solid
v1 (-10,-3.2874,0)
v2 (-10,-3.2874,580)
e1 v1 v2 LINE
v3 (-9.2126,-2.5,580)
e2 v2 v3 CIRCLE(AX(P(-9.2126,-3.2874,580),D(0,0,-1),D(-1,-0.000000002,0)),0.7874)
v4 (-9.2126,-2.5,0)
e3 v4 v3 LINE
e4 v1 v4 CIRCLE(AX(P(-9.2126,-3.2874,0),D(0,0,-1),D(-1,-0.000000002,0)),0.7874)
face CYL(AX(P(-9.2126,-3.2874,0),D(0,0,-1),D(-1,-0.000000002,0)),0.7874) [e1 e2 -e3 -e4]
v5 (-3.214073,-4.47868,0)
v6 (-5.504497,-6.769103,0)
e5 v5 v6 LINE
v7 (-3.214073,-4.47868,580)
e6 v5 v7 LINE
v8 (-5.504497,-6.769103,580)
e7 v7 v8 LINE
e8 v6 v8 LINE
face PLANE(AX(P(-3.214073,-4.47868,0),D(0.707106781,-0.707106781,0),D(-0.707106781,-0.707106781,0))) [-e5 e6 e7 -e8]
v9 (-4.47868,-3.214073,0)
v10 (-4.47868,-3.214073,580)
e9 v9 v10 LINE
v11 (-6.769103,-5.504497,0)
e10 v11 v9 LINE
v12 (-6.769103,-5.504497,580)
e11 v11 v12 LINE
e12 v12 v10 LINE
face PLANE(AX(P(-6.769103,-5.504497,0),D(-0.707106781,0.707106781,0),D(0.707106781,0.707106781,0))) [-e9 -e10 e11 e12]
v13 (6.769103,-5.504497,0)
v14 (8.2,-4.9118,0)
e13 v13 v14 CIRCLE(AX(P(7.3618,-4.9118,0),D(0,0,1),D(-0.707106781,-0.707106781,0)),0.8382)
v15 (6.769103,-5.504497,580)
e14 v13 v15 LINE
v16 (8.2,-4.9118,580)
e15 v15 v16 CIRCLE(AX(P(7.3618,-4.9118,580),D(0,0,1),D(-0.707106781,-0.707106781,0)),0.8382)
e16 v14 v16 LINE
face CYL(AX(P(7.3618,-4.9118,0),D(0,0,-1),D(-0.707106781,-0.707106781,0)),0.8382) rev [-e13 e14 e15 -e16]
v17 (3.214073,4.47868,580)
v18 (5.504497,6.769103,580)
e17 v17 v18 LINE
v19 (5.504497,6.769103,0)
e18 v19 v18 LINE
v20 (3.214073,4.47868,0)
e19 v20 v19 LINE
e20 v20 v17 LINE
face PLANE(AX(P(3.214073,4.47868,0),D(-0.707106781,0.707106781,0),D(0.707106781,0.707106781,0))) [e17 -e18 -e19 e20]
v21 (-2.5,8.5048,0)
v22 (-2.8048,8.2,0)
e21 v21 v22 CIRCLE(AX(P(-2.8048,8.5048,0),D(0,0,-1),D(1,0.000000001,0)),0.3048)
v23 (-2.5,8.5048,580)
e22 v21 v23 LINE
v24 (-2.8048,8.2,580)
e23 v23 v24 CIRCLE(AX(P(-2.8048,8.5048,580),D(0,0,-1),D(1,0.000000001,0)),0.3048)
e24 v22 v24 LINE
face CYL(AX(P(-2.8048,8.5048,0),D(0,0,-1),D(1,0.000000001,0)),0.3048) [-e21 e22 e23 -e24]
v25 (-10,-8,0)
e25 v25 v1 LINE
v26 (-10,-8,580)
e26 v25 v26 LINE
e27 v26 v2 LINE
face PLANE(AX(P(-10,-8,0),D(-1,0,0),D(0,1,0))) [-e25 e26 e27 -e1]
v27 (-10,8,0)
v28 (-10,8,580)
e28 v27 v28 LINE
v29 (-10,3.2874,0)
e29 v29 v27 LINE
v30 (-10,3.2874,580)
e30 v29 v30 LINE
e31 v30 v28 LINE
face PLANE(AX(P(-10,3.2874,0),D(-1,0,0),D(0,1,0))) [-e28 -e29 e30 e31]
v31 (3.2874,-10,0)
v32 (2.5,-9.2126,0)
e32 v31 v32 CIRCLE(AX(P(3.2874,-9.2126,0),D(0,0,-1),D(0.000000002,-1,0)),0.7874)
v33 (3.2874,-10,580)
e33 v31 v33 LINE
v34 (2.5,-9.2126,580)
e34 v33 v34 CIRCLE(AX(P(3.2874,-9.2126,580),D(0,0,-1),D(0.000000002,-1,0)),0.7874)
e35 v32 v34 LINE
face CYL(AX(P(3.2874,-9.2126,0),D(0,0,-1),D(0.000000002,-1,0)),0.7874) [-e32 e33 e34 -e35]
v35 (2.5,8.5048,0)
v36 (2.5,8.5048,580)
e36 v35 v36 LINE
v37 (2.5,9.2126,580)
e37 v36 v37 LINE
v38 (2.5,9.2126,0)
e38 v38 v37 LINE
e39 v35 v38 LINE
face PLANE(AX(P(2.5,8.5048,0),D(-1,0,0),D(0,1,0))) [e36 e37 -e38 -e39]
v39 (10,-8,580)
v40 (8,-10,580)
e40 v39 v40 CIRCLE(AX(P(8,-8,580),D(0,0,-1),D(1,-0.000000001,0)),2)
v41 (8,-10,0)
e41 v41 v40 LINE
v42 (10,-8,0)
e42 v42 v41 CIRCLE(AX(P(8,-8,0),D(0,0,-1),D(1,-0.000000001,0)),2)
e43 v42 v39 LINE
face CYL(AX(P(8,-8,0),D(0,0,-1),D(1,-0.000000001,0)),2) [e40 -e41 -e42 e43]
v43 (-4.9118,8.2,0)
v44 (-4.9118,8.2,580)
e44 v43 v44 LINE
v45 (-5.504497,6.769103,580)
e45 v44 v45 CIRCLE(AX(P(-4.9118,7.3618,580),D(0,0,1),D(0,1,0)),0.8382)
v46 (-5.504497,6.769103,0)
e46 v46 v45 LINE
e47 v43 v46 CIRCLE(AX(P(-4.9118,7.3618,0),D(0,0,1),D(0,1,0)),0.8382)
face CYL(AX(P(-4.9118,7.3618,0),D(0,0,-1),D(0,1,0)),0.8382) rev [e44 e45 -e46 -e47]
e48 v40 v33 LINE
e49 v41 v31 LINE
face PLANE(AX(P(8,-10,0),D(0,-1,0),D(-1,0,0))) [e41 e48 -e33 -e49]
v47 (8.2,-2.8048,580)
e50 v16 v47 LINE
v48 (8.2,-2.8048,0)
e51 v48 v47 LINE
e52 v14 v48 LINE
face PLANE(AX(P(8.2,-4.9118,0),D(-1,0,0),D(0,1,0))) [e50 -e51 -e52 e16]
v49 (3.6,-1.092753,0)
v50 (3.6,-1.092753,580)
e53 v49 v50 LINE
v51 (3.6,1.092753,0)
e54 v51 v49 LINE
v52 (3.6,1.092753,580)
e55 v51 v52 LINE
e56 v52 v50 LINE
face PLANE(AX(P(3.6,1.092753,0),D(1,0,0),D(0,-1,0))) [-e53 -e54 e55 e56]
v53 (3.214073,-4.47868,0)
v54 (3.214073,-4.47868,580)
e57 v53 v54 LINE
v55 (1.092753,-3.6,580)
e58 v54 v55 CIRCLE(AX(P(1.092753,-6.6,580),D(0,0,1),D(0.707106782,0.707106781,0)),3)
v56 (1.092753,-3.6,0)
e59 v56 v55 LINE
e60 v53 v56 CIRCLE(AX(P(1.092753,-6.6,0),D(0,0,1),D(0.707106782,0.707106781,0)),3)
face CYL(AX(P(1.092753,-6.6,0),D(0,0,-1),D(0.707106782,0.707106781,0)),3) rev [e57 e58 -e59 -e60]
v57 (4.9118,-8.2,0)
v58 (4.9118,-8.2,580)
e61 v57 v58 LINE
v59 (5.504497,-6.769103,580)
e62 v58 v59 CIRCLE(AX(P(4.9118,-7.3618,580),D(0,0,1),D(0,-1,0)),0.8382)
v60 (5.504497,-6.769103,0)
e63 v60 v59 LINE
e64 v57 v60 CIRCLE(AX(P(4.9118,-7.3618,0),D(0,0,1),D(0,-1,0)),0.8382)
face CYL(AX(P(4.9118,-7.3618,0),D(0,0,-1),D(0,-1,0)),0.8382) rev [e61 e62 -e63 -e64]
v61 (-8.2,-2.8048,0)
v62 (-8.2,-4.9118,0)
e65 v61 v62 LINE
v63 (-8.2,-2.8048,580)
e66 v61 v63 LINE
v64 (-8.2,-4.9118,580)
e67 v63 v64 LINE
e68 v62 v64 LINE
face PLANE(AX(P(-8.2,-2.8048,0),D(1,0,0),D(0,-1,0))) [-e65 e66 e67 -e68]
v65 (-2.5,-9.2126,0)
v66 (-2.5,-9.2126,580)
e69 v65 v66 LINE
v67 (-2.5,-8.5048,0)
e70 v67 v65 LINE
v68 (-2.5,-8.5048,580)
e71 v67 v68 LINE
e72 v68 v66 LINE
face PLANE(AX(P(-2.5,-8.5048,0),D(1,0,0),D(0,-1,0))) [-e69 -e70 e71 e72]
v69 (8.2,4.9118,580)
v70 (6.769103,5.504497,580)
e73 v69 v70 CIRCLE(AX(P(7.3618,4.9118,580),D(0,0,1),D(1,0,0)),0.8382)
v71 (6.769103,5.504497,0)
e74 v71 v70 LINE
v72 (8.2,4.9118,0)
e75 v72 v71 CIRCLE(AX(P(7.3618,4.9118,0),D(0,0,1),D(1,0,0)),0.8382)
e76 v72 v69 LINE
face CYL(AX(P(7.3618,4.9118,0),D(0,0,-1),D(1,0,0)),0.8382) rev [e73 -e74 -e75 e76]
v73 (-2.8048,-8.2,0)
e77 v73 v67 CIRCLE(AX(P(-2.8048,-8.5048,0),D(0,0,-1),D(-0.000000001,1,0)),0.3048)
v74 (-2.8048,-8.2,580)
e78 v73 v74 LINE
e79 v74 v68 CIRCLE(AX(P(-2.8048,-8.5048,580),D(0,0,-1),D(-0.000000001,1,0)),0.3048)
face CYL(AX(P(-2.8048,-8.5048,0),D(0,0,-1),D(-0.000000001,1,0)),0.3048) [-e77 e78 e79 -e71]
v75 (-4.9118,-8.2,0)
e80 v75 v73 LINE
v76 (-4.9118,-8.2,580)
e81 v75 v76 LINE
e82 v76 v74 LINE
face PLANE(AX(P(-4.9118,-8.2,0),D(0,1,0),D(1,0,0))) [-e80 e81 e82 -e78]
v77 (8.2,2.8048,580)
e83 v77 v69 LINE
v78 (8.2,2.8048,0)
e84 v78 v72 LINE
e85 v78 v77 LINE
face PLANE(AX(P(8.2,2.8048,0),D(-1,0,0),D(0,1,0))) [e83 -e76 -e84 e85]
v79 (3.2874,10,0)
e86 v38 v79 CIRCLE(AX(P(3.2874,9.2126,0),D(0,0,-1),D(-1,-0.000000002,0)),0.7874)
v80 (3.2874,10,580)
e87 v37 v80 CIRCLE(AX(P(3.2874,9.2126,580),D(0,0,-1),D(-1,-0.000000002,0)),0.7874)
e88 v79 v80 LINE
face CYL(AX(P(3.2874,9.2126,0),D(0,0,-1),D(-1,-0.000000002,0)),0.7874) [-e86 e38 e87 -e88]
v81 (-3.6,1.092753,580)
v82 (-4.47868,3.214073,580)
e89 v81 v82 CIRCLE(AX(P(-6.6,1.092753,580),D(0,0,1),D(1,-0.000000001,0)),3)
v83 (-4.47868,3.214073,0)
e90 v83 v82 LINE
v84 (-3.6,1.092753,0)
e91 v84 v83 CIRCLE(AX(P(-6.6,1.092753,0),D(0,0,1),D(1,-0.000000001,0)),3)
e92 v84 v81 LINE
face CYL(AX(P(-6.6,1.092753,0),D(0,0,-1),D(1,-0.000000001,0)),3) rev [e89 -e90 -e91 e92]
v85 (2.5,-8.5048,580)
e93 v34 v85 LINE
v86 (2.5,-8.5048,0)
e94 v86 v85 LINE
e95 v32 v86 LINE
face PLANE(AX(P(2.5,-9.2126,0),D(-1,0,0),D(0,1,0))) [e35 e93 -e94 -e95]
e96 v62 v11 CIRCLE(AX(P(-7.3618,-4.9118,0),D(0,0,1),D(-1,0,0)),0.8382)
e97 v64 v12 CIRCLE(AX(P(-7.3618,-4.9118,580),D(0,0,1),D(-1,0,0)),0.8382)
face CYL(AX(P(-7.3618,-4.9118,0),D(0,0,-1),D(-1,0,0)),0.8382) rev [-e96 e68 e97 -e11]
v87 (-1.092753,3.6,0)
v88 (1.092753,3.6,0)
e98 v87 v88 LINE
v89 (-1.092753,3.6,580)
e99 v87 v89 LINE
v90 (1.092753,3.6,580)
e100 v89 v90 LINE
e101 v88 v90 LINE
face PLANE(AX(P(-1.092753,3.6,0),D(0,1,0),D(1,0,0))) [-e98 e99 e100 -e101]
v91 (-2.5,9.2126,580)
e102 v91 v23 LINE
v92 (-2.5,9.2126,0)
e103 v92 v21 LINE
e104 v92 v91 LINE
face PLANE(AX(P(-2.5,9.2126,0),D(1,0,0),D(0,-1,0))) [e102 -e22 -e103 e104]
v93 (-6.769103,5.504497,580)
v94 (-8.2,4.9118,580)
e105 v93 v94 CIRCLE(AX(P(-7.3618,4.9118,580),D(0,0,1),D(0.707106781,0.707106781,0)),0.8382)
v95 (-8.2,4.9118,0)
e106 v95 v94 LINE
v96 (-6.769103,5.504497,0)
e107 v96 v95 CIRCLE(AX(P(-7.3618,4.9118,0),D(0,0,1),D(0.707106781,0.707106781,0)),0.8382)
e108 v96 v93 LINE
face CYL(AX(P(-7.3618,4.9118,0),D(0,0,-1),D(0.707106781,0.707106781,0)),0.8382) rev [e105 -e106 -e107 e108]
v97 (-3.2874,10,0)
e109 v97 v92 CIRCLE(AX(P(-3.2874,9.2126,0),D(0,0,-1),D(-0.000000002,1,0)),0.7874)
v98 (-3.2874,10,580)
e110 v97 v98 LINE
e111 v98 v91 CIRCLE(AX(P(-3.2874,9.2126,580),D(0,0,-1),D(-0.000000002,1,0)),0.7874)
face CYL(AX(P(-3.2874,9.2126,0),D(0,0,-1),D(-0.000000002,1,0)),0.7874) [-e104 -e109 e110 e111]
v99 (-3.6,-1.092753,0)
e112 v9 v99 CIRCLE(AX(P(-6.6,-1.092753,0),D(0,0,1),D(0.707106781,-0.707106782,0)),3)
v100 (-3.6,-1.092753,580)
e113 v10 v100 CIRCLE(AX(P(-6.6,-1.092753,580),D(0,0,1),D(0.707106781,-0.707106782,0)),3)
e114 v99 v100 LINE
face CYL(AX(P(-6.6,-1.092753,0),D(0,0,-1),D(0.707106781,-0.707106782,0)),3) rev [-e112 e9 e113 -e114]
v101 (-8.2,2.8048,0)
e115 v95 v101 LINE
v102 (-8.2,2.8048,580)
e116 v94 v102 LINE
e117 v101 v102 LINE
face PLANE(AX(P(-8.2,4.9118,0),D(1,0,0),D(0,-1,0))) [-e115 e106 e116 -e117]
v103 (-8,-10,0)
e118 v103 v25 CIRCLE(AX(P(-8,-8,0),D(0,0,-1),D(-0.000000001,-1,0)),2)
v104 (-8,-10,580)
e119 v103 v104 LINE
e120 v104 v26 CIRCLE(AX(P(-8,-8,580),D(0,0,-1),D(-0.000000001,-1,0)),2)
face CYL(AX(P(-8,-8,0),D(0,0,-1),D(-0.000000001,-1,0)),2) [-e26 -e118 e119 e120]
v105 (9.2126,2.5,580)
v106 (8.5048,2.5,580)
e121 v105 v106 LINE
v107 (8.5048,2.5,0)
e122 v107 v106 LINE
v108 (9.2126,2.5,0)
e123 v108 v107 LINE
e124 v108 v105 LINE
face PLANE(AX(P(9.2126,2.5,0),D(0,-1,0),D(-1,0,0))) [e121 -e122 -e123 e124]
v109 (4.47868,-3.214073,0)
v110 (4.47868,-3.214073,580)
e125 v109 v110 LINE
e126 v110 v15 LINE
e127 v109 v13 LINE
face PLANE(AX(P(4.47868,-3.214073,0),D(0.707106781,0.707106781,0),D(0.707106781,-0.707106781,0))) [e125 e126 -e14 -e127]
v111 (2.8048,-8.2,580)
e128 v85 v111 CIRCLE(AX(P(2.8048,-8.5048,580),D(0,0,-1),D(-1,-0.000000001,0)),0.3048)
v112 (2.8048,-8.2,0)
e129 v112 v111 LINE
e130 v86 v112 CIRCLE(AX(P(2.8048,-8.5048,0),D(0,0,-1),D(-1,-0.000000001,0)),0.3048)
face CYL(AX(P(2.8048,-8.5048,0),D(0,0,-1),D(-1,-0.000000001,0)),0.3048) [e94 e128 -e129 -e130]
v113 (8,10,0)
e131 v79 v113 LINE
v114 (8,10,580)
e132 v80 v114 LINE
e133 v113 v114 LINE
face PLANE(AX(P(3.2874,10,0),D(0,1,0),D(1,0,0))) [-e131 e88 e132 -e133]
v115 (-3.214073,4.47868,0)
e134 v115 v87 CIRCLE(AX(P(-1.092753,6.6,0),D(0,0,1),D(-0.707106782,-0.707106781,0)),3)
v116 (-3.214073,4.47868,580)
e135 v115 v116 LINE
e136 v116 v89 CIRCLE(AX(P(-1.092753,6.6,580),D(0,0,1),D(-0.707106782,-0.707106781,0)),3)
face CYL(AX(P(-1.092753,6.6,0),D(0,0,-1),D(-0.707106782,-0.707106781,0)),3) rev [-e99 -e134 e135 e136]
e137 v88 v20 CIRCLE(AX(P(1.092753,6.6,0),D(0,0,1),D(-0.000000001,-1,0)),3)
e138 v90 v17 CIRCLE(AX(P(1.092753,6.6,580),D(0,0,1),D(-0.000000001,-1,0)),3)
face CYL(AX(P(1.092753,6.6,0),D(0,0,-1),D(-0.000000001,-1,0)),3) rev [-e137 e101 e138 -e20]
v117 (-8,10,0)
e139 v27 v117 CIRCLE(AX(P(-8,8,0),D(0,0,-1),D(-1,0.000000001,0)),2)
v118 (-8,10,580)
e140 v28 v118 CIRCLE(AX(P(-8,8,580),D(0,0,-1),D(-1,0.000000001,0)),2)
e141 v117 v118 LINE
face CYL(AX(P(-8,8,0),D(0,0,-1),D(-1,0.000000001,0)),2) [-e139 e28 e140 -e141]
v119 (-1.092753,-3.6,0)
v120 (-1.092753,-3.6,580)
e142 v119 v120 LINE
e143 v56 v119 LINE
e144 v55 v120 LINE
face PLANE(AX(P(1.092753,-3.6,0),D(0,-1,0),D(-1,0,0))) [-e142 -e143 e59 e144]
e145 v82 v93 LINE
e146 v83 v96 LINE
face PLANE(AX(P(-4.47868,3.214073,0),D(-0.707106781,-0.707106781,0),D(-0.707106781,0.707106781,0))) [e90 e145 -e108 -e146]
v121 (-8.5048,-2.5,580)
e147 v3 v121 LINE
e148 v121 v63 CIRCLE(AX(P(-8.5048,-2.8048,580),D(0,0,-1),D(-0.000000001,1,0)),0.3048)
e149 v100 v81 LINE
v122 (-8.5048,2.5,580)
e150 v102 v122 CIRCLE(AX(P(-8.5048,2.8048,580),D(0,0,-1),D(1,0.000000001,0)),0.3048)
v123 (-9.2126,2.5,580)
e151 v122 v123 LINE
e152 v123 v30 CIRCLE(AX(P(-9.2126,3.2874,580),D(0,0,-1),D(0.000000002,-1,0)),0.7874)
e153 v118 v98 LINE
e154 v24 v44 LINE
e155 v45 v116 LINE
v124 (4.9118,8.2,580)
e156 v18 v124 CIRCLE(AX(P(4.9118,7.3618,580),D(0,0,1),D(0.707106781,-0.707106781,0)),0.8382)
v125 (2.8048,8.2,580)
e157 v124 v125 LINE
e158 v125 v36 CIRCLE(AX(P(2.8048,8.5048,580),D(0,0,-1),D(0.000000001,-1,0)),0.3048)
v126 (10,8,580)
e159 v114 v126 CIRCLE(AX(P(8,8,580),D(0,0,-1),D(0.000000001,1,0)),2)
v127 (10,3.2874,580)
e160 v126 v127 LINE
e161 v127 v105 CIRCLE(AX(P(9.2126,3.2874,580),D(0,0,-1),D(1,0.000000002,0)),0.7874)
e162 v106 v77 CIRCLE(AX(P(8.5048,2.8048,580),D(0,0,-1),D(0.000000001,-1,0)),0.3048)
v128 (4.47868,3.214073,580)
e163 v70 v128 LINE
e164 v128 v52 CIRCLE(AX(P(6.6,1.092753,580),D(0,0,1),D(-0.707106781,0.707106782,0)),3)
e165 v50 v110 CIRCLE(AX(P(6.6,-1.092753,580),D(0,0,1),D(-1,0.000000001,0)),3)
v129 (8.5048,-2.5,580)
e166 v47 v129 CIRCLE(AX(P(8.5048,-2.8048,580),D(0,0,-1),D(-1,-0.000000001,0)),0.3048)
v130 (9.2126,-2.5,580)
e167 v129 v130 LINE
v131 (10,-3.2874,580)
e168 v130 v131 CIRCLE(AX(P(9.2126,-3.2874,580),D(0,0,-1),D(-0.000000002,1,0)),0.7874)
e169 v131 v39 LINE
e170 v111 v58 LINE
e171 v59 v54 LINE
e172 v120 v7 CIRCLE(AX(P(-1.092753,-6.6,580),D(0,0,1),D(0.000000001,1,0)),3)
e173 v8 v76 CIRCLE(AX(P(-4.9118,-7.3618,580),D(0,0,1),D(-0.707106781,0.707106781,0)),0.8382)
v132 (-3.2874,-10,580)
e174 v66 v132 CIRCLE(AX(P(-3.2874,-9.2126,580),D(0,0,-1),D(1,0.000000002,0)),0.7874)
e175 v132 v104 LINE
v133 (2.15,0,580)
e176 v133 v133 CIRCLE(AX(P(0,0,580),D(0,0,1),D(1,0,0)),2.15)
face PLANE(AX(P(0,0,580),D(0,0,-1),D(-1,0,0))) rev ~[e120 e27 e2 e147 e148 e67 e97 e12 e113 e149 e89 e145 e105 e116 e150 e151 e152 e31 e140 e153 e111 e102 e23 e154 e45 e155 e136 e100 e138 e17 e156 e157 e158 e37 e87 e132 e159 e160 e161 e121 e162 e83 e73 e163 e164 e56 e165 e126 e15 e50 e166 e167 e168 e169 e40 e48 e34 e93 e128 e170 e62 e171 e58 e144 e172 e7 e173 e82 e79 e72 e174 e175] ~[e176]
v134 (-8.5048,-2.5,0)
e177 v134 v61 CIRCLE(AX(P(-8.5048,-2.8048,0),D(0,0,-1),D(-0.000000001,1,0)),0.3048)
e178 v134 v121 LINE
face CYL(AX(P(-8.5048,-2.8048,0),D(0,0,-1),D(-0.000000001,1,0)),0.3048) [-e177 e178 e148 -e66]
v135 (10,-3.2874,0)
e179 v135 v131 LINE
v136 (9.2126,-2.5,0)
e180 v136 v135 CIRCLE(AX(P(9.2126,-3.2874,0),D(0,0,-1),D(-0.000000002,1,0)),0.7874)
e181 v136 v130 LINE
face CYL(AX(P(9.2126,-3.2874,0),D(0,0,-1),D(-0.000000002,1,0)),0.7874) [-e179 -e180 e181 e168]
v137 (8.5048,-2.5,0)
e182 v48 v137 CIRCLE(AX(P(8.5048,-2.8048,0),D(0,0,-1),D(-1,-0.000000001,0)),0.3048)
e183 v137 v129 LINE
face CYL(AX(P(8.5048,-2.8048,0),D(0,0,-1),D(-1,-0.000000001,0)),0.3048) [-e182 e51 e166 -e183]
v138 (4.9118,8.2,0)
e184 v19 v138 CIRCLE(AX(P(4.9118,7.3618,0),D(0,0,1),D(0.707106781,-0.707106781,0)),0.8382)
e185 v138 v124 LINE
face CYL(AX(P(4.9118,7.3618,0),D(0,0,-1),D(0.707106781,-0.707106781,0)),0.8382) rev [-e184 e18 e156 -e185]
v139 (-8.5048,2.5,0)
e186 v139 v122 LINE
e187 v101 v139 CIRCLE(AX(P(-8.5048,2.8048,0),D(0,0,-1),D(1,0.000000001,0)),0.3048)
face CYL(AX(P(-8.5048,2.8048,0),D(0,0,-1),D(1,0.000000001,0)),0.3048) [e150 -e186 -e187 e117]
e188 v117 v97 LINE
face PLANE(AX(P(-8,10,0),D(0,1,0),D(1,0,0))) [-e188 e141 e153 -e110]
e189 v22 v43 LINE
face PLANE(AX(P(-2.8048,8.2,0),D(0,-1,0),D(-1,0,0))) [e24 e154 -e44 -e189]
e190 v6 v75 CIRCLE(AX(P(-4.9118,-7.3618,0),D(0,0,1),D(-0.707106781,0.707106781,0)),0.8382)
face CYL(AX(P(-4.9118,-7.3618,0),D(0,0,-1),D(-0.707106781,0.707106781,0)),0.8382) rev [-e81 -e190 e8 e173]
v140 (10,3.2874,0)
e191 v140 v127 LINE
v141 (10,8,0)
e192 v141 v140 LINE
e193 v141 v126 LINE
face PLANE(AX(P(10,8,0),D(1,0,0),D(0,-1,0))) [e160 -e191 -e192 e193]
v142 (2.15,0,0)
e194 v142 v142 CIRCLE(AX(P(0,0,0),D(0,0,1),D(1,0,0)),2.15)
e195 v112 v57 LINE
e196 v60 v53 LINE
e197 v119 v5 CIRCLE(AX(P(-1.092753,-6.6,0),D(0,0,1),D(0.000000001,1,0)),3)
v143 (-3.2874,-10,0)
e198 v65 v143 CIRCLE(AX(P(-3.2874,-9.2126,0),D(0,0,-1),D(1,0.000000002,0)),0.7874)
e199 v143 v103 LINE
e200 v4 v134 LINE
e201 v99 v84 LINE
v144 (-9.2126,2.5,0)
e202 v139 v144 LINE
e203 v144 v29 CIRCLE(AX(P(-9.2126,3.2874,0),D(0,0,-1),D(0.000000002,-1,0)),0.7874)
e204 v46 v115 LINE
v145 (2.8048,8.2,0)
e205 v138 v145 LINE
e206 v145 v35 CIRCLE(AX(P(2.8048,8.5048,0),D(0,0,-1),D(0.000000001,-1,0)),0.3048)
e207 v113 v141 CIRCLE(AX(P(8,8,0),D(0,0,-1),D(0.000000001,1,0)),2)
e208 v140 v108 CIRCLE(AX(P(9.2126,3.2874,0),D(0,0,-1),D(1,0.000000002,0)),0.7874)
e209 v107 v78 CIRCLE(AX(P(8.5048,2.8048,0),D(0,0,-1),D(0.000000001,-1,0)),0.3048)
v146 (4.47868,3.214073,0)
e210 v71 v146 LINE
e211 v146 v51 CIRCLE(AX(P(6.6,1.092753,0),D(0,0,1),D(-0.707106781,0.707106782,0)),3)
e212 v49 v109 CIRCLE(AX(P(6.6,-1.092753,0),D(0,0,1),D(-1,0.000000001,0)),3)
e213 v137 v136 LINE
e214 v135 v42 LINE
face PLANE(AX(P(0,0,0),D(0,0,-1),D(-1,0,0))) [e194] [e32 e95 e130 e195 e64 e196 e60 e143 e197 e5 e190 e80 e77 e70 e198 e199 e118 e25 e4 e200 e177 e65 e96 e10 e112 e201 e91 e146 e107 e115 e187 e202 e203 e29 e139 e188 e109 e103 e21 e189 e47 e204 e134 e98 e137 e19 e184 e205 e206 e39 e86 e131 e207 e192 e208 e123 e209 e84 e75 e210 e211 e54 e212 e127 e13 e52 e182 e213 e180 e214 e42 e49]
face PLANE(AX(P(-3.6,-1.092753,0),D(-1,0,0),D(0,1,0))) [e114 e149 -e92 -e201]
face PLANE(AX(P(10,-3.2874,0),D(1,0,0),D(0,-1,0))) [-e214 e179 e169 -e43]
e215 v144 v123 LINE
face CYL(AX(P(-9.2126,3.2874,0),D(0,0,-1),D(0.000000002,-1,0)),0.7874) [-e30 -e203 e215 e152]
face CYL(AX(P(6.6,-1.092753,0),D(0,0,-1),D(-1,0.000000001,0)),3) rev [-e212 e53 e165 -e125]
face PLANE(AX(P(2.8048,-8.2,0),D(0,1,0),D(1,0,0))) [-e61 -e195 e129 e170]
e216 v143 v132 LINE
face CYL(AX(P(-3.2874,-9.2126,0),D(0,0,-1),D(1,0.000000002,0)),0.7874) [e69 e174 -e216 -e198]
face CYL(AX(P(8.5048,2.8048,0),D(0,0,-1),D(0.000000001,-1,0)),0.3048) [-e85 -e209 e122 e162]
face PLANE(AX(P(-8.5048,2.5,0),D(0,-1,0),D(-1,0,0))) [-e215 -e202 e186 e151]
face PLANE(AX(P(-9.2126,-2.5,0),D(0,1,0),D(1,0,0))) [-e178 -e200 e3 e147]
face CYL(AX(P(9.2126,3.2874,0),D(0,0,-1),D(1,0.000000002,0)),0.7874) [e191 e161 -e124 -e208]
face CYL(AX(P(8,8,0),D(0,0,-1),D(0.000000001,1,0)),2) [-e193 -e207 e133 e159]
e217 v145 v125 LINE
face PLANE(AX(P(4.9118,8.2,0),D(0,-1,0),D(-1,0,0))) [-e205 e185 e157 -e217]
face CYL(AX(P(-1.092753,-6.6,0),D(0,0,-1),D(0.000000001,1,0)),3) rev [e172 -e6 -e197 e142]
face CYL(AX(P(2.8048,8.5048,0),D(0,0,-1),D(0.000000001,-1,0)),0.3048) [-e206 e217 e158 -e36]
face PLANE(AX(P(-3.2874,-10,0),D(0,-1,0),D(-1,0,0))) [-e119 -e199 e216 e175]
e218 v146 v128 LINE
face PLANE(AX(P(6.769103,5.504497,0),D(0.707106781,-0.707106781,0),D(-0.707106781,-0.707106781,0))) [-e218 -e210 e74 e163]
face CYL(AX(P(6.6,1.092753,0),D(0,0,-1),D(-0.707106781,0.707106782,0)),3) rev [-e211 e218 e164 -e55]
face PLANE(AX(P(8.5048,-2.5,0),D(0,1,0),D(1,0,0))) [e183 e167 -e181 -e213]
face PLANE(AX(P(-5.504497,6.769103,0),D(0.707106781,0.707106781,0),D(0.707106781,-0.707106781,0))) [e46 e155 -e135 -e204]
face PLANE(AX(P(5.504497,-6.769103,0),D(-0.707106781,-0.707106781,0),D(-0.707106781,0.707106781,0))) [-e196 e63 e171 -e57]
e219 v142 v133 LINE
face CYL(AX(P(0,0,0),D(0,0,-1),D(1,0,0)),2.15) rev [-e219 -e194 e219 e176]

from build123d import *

# Parameters (mm, degrees)
SKETCH3_R           = 2.15
BOSS_EXTRUDE1_DEPTH = 580


with BuildPart() as part:
    # Sketch3 → Boss-Extrude1 (new body)
    with BuildSketch(Plane.XY):
        with BuildLine():
            Line((3.2874, 10), (8, 10))
            ThreePointArc((8, 10), (9.414213562, 9.414213562), (10, 8))
            Line((10, 8), (10, 3.2874))
            ThreePointArc((10, 3.2874), (9.76937588, 2.73062412), (9.2126, 2.5))
            Line((9.2126, 2.5), (8.5048, 2.5))
            ThreePointArc((8.5048, 2.5), (8.289273853, 2.589273853), (8.2, 2.8048))
            Line((8.2, 2.8048), (8.2, 4.9118))
            ThreePointArc((8.2, 4.9118), (7.682565253, 5.686195824), (6.769103096, 5.504496904))
            Line((6.769103096, 5.504496904), (4.478679656, 3.214073464))
            ThreePointArc((4.478679656, 3.214073464), (3.828361402, 2.240803418), (3.6, 1.092753121))
            Line((3.6, 1.092753121), (3.6, -1.092753121))
            ThreePointArc((3.6, -1.092753121), (3.828361402, -2.240803418), (4.478679656, -3.214073464))
            Line((4.478679656, -3.214073464), (6.769103096, -5.504496904))
            ThreePointArc((6.769103096, -5.504496904), (7.682565253, -5.686195824), (8.2, -4.9118))
            Line((8.2, -4.9118), (8.2, -2.8048))
            ThreePointArc((8.2, -2.8048), (8.289273853, -2.589273853), (8.5048, -2.5))
            Line((8.5048, -2.5), (9.2126, -2.5))
            ThreePointArc((9.2126, -2.5), (9.76937588, -2.73062412), (10, -3.2874))
            Line((10, -3.2874), (10, -8))
            ThreePointArc((10, -8), (9.414213562, -9.414213562), (8, -10))
            Line((8, -10), (3.2874, -10))
            ThreePointArc((3.2874, -10), (2.73062412, -9.76937588), (2.5, -9.2126))
            Line((2.5, -9.2126), (2.5, -8.5048))
            ThreePointArc((2.5, -8.5048), (2.589273853, -8.289273853), (2.8048, -8.2))
            Line((2.8048, -8.2), (4.9118, -8.2))
            ThreePointArc((4.9118, -8.2), (5.686195824, -7.682565253), (5.504496904, -6.769103096))
            Line((5.504496904, -6.769103096), (3.214073464, -4.478679656))
            ThreePointArc((3.214073464, -4.478679656), (2.240803418, -3.828361402), (1.092753121, -3.6))
            Line((1.092753121, -3.6), (-1.092753121, -3.6))
            ThreePointArc((-1.092753121, -3.6), (-2.240803418, -3.828361402), (-3.214073464, -4.478679656))
            Line((-3.214073464, -4.478679656), (-5.504496904, -6.769103096))
            ThreePointArc((-5.504496904, -6.769103096), (-5.686195824, -7.682565253), (-4.9118, -8.2))
            Line((-4.9118, -8.2), (-2.8048, -8.2))
            ThreePointArc((-2.8048, -8.2), (-2.589273853, -8.289273853), (-2.5, -8.5048))
            Line((-2.5, -8.5048), (-2.5, -9.2126))
            ThreePointArc((-2.5, -9.2126), (-2.73062412, -9.76937588), (-3.2874, -10))
            Line((-3.2874, -10), (-8, -10))
            ThreePointArc((-8, -10), (-9.414213562, -9.414213562), (-10, -8))
            Line((-10, -8), (-10, -3.2874))
            ThreePointArc((-10, -3.2874), (-9.76937588, -2.73062412), (-9.2126, -2.5))
            Line((-9.2126, -2.5), (-8.5048, -2.5))
            ThreePointArc((-8.5048, -2.5), (-8.289273853, -2.589273853), (-8.2, -2.8048))
            Line((-8.2, -2.8048), (-8.2, -4.9118))
            ThreePointArc((-8.2, -4.9118), (-7.682565253, -5.686195824), (-6.769103096, -5.504496904))
            Line((-6.769103096, -5.504496904), (-4.478679656, -3.214073464))
            ThreePointArc((-4.478679656, -3.214073464), (-3.828361402, -2.240803418), (-3.6, -1.092753121))
            Line((-3.6, -1.092753121), (-3.6, 1.092753121))
            ThreePointArc((-3.6, 1.092753121), (-3.828361402, 2.240803418), (-4.478679656, 3.214073464))
            Line((-4.478679656, 3.214073464), (-6.769103096, 5.504496904))
            ThreePointArc((-6.769103096, 5.504496904), (-7.682565253, 5.686195824), (-8.2, 4.9118))
            Line((-8.2, 4.9118), (-8.2, 2.8048))
            ThreePointArc((-8.2, 2.8048), (-8.289273853, 2.589273853), (-8.5048, 2.5))
            Line((-8.5048, 2.5), (-9.2126, 2.5))
            ThreePointArc((-9.2126, 2.5), (-9.76937588, 2.73062412), (-10, 3.2874))
            Line((-10, 3.2874), (-10, 8))
            ThreePointArc((-10, 8), (-9.414213562, 9.414213562), (-8, 10))
            Line((-8, 10), (-3.2874, 10))
            ThreePointArc((-3.2874, 10), (-2.73062412, 9.76937588), (-2.5, 9.2126))
            Line((-2.5, 9.2126), (-2.5, 8.5048))
            ThreePointArc((-2.5, 8.5048), (-2.589273853, 8.289273853), (-2.8048, 8.2))
            Line((-2.8048, 8.2), (-4.9118, 8.2))
            ThreePointArc((-4.9118, 8.2), (-5.686195824, 7.682565253), (-5.504496904, 6.769103096))
            Line((-5.504496904, 6.769103096), (-3.214073464, 4.478679656))
            ThreePointArc((-3.214073464, 4.478679656), (-2.240803418, 3.828361402), (-1.092753121, 3.6))
            Line((-1.092753121, 3.6), (1.092753121, 3.6))
            ThreePointArc((1.092753121, 3.6), (2.240803418, 3.828361402), (3.214073464, 4.478679656))
            Line((3.214073464, 4.478679656), (5.504496904, 6.769103096))
            ThreePointArc((5.504496904, 6.769103096), (5.686195824, 7.682565253), (4.9118, 8.2))
            Line((4.9118, 8.2), (2.8048, 8.2))
            ThreePointArc((2.8048, 8.2), (2.589273853, 8.289273853), (2.5, 8.5048))
            Line((2.5, 8.5048), (2.5, 9.2126))
            ThreePointArc((2.5, 9.2126), (2.73062412, 9.76937588), (3.2874, 10))
        make_face()
        Circle(SKETCH3_R, mode=Mode.SUBTRACT)
    extrude(amount=BOSS_EXTRUDE1_DEPTH)


solid = part.part
